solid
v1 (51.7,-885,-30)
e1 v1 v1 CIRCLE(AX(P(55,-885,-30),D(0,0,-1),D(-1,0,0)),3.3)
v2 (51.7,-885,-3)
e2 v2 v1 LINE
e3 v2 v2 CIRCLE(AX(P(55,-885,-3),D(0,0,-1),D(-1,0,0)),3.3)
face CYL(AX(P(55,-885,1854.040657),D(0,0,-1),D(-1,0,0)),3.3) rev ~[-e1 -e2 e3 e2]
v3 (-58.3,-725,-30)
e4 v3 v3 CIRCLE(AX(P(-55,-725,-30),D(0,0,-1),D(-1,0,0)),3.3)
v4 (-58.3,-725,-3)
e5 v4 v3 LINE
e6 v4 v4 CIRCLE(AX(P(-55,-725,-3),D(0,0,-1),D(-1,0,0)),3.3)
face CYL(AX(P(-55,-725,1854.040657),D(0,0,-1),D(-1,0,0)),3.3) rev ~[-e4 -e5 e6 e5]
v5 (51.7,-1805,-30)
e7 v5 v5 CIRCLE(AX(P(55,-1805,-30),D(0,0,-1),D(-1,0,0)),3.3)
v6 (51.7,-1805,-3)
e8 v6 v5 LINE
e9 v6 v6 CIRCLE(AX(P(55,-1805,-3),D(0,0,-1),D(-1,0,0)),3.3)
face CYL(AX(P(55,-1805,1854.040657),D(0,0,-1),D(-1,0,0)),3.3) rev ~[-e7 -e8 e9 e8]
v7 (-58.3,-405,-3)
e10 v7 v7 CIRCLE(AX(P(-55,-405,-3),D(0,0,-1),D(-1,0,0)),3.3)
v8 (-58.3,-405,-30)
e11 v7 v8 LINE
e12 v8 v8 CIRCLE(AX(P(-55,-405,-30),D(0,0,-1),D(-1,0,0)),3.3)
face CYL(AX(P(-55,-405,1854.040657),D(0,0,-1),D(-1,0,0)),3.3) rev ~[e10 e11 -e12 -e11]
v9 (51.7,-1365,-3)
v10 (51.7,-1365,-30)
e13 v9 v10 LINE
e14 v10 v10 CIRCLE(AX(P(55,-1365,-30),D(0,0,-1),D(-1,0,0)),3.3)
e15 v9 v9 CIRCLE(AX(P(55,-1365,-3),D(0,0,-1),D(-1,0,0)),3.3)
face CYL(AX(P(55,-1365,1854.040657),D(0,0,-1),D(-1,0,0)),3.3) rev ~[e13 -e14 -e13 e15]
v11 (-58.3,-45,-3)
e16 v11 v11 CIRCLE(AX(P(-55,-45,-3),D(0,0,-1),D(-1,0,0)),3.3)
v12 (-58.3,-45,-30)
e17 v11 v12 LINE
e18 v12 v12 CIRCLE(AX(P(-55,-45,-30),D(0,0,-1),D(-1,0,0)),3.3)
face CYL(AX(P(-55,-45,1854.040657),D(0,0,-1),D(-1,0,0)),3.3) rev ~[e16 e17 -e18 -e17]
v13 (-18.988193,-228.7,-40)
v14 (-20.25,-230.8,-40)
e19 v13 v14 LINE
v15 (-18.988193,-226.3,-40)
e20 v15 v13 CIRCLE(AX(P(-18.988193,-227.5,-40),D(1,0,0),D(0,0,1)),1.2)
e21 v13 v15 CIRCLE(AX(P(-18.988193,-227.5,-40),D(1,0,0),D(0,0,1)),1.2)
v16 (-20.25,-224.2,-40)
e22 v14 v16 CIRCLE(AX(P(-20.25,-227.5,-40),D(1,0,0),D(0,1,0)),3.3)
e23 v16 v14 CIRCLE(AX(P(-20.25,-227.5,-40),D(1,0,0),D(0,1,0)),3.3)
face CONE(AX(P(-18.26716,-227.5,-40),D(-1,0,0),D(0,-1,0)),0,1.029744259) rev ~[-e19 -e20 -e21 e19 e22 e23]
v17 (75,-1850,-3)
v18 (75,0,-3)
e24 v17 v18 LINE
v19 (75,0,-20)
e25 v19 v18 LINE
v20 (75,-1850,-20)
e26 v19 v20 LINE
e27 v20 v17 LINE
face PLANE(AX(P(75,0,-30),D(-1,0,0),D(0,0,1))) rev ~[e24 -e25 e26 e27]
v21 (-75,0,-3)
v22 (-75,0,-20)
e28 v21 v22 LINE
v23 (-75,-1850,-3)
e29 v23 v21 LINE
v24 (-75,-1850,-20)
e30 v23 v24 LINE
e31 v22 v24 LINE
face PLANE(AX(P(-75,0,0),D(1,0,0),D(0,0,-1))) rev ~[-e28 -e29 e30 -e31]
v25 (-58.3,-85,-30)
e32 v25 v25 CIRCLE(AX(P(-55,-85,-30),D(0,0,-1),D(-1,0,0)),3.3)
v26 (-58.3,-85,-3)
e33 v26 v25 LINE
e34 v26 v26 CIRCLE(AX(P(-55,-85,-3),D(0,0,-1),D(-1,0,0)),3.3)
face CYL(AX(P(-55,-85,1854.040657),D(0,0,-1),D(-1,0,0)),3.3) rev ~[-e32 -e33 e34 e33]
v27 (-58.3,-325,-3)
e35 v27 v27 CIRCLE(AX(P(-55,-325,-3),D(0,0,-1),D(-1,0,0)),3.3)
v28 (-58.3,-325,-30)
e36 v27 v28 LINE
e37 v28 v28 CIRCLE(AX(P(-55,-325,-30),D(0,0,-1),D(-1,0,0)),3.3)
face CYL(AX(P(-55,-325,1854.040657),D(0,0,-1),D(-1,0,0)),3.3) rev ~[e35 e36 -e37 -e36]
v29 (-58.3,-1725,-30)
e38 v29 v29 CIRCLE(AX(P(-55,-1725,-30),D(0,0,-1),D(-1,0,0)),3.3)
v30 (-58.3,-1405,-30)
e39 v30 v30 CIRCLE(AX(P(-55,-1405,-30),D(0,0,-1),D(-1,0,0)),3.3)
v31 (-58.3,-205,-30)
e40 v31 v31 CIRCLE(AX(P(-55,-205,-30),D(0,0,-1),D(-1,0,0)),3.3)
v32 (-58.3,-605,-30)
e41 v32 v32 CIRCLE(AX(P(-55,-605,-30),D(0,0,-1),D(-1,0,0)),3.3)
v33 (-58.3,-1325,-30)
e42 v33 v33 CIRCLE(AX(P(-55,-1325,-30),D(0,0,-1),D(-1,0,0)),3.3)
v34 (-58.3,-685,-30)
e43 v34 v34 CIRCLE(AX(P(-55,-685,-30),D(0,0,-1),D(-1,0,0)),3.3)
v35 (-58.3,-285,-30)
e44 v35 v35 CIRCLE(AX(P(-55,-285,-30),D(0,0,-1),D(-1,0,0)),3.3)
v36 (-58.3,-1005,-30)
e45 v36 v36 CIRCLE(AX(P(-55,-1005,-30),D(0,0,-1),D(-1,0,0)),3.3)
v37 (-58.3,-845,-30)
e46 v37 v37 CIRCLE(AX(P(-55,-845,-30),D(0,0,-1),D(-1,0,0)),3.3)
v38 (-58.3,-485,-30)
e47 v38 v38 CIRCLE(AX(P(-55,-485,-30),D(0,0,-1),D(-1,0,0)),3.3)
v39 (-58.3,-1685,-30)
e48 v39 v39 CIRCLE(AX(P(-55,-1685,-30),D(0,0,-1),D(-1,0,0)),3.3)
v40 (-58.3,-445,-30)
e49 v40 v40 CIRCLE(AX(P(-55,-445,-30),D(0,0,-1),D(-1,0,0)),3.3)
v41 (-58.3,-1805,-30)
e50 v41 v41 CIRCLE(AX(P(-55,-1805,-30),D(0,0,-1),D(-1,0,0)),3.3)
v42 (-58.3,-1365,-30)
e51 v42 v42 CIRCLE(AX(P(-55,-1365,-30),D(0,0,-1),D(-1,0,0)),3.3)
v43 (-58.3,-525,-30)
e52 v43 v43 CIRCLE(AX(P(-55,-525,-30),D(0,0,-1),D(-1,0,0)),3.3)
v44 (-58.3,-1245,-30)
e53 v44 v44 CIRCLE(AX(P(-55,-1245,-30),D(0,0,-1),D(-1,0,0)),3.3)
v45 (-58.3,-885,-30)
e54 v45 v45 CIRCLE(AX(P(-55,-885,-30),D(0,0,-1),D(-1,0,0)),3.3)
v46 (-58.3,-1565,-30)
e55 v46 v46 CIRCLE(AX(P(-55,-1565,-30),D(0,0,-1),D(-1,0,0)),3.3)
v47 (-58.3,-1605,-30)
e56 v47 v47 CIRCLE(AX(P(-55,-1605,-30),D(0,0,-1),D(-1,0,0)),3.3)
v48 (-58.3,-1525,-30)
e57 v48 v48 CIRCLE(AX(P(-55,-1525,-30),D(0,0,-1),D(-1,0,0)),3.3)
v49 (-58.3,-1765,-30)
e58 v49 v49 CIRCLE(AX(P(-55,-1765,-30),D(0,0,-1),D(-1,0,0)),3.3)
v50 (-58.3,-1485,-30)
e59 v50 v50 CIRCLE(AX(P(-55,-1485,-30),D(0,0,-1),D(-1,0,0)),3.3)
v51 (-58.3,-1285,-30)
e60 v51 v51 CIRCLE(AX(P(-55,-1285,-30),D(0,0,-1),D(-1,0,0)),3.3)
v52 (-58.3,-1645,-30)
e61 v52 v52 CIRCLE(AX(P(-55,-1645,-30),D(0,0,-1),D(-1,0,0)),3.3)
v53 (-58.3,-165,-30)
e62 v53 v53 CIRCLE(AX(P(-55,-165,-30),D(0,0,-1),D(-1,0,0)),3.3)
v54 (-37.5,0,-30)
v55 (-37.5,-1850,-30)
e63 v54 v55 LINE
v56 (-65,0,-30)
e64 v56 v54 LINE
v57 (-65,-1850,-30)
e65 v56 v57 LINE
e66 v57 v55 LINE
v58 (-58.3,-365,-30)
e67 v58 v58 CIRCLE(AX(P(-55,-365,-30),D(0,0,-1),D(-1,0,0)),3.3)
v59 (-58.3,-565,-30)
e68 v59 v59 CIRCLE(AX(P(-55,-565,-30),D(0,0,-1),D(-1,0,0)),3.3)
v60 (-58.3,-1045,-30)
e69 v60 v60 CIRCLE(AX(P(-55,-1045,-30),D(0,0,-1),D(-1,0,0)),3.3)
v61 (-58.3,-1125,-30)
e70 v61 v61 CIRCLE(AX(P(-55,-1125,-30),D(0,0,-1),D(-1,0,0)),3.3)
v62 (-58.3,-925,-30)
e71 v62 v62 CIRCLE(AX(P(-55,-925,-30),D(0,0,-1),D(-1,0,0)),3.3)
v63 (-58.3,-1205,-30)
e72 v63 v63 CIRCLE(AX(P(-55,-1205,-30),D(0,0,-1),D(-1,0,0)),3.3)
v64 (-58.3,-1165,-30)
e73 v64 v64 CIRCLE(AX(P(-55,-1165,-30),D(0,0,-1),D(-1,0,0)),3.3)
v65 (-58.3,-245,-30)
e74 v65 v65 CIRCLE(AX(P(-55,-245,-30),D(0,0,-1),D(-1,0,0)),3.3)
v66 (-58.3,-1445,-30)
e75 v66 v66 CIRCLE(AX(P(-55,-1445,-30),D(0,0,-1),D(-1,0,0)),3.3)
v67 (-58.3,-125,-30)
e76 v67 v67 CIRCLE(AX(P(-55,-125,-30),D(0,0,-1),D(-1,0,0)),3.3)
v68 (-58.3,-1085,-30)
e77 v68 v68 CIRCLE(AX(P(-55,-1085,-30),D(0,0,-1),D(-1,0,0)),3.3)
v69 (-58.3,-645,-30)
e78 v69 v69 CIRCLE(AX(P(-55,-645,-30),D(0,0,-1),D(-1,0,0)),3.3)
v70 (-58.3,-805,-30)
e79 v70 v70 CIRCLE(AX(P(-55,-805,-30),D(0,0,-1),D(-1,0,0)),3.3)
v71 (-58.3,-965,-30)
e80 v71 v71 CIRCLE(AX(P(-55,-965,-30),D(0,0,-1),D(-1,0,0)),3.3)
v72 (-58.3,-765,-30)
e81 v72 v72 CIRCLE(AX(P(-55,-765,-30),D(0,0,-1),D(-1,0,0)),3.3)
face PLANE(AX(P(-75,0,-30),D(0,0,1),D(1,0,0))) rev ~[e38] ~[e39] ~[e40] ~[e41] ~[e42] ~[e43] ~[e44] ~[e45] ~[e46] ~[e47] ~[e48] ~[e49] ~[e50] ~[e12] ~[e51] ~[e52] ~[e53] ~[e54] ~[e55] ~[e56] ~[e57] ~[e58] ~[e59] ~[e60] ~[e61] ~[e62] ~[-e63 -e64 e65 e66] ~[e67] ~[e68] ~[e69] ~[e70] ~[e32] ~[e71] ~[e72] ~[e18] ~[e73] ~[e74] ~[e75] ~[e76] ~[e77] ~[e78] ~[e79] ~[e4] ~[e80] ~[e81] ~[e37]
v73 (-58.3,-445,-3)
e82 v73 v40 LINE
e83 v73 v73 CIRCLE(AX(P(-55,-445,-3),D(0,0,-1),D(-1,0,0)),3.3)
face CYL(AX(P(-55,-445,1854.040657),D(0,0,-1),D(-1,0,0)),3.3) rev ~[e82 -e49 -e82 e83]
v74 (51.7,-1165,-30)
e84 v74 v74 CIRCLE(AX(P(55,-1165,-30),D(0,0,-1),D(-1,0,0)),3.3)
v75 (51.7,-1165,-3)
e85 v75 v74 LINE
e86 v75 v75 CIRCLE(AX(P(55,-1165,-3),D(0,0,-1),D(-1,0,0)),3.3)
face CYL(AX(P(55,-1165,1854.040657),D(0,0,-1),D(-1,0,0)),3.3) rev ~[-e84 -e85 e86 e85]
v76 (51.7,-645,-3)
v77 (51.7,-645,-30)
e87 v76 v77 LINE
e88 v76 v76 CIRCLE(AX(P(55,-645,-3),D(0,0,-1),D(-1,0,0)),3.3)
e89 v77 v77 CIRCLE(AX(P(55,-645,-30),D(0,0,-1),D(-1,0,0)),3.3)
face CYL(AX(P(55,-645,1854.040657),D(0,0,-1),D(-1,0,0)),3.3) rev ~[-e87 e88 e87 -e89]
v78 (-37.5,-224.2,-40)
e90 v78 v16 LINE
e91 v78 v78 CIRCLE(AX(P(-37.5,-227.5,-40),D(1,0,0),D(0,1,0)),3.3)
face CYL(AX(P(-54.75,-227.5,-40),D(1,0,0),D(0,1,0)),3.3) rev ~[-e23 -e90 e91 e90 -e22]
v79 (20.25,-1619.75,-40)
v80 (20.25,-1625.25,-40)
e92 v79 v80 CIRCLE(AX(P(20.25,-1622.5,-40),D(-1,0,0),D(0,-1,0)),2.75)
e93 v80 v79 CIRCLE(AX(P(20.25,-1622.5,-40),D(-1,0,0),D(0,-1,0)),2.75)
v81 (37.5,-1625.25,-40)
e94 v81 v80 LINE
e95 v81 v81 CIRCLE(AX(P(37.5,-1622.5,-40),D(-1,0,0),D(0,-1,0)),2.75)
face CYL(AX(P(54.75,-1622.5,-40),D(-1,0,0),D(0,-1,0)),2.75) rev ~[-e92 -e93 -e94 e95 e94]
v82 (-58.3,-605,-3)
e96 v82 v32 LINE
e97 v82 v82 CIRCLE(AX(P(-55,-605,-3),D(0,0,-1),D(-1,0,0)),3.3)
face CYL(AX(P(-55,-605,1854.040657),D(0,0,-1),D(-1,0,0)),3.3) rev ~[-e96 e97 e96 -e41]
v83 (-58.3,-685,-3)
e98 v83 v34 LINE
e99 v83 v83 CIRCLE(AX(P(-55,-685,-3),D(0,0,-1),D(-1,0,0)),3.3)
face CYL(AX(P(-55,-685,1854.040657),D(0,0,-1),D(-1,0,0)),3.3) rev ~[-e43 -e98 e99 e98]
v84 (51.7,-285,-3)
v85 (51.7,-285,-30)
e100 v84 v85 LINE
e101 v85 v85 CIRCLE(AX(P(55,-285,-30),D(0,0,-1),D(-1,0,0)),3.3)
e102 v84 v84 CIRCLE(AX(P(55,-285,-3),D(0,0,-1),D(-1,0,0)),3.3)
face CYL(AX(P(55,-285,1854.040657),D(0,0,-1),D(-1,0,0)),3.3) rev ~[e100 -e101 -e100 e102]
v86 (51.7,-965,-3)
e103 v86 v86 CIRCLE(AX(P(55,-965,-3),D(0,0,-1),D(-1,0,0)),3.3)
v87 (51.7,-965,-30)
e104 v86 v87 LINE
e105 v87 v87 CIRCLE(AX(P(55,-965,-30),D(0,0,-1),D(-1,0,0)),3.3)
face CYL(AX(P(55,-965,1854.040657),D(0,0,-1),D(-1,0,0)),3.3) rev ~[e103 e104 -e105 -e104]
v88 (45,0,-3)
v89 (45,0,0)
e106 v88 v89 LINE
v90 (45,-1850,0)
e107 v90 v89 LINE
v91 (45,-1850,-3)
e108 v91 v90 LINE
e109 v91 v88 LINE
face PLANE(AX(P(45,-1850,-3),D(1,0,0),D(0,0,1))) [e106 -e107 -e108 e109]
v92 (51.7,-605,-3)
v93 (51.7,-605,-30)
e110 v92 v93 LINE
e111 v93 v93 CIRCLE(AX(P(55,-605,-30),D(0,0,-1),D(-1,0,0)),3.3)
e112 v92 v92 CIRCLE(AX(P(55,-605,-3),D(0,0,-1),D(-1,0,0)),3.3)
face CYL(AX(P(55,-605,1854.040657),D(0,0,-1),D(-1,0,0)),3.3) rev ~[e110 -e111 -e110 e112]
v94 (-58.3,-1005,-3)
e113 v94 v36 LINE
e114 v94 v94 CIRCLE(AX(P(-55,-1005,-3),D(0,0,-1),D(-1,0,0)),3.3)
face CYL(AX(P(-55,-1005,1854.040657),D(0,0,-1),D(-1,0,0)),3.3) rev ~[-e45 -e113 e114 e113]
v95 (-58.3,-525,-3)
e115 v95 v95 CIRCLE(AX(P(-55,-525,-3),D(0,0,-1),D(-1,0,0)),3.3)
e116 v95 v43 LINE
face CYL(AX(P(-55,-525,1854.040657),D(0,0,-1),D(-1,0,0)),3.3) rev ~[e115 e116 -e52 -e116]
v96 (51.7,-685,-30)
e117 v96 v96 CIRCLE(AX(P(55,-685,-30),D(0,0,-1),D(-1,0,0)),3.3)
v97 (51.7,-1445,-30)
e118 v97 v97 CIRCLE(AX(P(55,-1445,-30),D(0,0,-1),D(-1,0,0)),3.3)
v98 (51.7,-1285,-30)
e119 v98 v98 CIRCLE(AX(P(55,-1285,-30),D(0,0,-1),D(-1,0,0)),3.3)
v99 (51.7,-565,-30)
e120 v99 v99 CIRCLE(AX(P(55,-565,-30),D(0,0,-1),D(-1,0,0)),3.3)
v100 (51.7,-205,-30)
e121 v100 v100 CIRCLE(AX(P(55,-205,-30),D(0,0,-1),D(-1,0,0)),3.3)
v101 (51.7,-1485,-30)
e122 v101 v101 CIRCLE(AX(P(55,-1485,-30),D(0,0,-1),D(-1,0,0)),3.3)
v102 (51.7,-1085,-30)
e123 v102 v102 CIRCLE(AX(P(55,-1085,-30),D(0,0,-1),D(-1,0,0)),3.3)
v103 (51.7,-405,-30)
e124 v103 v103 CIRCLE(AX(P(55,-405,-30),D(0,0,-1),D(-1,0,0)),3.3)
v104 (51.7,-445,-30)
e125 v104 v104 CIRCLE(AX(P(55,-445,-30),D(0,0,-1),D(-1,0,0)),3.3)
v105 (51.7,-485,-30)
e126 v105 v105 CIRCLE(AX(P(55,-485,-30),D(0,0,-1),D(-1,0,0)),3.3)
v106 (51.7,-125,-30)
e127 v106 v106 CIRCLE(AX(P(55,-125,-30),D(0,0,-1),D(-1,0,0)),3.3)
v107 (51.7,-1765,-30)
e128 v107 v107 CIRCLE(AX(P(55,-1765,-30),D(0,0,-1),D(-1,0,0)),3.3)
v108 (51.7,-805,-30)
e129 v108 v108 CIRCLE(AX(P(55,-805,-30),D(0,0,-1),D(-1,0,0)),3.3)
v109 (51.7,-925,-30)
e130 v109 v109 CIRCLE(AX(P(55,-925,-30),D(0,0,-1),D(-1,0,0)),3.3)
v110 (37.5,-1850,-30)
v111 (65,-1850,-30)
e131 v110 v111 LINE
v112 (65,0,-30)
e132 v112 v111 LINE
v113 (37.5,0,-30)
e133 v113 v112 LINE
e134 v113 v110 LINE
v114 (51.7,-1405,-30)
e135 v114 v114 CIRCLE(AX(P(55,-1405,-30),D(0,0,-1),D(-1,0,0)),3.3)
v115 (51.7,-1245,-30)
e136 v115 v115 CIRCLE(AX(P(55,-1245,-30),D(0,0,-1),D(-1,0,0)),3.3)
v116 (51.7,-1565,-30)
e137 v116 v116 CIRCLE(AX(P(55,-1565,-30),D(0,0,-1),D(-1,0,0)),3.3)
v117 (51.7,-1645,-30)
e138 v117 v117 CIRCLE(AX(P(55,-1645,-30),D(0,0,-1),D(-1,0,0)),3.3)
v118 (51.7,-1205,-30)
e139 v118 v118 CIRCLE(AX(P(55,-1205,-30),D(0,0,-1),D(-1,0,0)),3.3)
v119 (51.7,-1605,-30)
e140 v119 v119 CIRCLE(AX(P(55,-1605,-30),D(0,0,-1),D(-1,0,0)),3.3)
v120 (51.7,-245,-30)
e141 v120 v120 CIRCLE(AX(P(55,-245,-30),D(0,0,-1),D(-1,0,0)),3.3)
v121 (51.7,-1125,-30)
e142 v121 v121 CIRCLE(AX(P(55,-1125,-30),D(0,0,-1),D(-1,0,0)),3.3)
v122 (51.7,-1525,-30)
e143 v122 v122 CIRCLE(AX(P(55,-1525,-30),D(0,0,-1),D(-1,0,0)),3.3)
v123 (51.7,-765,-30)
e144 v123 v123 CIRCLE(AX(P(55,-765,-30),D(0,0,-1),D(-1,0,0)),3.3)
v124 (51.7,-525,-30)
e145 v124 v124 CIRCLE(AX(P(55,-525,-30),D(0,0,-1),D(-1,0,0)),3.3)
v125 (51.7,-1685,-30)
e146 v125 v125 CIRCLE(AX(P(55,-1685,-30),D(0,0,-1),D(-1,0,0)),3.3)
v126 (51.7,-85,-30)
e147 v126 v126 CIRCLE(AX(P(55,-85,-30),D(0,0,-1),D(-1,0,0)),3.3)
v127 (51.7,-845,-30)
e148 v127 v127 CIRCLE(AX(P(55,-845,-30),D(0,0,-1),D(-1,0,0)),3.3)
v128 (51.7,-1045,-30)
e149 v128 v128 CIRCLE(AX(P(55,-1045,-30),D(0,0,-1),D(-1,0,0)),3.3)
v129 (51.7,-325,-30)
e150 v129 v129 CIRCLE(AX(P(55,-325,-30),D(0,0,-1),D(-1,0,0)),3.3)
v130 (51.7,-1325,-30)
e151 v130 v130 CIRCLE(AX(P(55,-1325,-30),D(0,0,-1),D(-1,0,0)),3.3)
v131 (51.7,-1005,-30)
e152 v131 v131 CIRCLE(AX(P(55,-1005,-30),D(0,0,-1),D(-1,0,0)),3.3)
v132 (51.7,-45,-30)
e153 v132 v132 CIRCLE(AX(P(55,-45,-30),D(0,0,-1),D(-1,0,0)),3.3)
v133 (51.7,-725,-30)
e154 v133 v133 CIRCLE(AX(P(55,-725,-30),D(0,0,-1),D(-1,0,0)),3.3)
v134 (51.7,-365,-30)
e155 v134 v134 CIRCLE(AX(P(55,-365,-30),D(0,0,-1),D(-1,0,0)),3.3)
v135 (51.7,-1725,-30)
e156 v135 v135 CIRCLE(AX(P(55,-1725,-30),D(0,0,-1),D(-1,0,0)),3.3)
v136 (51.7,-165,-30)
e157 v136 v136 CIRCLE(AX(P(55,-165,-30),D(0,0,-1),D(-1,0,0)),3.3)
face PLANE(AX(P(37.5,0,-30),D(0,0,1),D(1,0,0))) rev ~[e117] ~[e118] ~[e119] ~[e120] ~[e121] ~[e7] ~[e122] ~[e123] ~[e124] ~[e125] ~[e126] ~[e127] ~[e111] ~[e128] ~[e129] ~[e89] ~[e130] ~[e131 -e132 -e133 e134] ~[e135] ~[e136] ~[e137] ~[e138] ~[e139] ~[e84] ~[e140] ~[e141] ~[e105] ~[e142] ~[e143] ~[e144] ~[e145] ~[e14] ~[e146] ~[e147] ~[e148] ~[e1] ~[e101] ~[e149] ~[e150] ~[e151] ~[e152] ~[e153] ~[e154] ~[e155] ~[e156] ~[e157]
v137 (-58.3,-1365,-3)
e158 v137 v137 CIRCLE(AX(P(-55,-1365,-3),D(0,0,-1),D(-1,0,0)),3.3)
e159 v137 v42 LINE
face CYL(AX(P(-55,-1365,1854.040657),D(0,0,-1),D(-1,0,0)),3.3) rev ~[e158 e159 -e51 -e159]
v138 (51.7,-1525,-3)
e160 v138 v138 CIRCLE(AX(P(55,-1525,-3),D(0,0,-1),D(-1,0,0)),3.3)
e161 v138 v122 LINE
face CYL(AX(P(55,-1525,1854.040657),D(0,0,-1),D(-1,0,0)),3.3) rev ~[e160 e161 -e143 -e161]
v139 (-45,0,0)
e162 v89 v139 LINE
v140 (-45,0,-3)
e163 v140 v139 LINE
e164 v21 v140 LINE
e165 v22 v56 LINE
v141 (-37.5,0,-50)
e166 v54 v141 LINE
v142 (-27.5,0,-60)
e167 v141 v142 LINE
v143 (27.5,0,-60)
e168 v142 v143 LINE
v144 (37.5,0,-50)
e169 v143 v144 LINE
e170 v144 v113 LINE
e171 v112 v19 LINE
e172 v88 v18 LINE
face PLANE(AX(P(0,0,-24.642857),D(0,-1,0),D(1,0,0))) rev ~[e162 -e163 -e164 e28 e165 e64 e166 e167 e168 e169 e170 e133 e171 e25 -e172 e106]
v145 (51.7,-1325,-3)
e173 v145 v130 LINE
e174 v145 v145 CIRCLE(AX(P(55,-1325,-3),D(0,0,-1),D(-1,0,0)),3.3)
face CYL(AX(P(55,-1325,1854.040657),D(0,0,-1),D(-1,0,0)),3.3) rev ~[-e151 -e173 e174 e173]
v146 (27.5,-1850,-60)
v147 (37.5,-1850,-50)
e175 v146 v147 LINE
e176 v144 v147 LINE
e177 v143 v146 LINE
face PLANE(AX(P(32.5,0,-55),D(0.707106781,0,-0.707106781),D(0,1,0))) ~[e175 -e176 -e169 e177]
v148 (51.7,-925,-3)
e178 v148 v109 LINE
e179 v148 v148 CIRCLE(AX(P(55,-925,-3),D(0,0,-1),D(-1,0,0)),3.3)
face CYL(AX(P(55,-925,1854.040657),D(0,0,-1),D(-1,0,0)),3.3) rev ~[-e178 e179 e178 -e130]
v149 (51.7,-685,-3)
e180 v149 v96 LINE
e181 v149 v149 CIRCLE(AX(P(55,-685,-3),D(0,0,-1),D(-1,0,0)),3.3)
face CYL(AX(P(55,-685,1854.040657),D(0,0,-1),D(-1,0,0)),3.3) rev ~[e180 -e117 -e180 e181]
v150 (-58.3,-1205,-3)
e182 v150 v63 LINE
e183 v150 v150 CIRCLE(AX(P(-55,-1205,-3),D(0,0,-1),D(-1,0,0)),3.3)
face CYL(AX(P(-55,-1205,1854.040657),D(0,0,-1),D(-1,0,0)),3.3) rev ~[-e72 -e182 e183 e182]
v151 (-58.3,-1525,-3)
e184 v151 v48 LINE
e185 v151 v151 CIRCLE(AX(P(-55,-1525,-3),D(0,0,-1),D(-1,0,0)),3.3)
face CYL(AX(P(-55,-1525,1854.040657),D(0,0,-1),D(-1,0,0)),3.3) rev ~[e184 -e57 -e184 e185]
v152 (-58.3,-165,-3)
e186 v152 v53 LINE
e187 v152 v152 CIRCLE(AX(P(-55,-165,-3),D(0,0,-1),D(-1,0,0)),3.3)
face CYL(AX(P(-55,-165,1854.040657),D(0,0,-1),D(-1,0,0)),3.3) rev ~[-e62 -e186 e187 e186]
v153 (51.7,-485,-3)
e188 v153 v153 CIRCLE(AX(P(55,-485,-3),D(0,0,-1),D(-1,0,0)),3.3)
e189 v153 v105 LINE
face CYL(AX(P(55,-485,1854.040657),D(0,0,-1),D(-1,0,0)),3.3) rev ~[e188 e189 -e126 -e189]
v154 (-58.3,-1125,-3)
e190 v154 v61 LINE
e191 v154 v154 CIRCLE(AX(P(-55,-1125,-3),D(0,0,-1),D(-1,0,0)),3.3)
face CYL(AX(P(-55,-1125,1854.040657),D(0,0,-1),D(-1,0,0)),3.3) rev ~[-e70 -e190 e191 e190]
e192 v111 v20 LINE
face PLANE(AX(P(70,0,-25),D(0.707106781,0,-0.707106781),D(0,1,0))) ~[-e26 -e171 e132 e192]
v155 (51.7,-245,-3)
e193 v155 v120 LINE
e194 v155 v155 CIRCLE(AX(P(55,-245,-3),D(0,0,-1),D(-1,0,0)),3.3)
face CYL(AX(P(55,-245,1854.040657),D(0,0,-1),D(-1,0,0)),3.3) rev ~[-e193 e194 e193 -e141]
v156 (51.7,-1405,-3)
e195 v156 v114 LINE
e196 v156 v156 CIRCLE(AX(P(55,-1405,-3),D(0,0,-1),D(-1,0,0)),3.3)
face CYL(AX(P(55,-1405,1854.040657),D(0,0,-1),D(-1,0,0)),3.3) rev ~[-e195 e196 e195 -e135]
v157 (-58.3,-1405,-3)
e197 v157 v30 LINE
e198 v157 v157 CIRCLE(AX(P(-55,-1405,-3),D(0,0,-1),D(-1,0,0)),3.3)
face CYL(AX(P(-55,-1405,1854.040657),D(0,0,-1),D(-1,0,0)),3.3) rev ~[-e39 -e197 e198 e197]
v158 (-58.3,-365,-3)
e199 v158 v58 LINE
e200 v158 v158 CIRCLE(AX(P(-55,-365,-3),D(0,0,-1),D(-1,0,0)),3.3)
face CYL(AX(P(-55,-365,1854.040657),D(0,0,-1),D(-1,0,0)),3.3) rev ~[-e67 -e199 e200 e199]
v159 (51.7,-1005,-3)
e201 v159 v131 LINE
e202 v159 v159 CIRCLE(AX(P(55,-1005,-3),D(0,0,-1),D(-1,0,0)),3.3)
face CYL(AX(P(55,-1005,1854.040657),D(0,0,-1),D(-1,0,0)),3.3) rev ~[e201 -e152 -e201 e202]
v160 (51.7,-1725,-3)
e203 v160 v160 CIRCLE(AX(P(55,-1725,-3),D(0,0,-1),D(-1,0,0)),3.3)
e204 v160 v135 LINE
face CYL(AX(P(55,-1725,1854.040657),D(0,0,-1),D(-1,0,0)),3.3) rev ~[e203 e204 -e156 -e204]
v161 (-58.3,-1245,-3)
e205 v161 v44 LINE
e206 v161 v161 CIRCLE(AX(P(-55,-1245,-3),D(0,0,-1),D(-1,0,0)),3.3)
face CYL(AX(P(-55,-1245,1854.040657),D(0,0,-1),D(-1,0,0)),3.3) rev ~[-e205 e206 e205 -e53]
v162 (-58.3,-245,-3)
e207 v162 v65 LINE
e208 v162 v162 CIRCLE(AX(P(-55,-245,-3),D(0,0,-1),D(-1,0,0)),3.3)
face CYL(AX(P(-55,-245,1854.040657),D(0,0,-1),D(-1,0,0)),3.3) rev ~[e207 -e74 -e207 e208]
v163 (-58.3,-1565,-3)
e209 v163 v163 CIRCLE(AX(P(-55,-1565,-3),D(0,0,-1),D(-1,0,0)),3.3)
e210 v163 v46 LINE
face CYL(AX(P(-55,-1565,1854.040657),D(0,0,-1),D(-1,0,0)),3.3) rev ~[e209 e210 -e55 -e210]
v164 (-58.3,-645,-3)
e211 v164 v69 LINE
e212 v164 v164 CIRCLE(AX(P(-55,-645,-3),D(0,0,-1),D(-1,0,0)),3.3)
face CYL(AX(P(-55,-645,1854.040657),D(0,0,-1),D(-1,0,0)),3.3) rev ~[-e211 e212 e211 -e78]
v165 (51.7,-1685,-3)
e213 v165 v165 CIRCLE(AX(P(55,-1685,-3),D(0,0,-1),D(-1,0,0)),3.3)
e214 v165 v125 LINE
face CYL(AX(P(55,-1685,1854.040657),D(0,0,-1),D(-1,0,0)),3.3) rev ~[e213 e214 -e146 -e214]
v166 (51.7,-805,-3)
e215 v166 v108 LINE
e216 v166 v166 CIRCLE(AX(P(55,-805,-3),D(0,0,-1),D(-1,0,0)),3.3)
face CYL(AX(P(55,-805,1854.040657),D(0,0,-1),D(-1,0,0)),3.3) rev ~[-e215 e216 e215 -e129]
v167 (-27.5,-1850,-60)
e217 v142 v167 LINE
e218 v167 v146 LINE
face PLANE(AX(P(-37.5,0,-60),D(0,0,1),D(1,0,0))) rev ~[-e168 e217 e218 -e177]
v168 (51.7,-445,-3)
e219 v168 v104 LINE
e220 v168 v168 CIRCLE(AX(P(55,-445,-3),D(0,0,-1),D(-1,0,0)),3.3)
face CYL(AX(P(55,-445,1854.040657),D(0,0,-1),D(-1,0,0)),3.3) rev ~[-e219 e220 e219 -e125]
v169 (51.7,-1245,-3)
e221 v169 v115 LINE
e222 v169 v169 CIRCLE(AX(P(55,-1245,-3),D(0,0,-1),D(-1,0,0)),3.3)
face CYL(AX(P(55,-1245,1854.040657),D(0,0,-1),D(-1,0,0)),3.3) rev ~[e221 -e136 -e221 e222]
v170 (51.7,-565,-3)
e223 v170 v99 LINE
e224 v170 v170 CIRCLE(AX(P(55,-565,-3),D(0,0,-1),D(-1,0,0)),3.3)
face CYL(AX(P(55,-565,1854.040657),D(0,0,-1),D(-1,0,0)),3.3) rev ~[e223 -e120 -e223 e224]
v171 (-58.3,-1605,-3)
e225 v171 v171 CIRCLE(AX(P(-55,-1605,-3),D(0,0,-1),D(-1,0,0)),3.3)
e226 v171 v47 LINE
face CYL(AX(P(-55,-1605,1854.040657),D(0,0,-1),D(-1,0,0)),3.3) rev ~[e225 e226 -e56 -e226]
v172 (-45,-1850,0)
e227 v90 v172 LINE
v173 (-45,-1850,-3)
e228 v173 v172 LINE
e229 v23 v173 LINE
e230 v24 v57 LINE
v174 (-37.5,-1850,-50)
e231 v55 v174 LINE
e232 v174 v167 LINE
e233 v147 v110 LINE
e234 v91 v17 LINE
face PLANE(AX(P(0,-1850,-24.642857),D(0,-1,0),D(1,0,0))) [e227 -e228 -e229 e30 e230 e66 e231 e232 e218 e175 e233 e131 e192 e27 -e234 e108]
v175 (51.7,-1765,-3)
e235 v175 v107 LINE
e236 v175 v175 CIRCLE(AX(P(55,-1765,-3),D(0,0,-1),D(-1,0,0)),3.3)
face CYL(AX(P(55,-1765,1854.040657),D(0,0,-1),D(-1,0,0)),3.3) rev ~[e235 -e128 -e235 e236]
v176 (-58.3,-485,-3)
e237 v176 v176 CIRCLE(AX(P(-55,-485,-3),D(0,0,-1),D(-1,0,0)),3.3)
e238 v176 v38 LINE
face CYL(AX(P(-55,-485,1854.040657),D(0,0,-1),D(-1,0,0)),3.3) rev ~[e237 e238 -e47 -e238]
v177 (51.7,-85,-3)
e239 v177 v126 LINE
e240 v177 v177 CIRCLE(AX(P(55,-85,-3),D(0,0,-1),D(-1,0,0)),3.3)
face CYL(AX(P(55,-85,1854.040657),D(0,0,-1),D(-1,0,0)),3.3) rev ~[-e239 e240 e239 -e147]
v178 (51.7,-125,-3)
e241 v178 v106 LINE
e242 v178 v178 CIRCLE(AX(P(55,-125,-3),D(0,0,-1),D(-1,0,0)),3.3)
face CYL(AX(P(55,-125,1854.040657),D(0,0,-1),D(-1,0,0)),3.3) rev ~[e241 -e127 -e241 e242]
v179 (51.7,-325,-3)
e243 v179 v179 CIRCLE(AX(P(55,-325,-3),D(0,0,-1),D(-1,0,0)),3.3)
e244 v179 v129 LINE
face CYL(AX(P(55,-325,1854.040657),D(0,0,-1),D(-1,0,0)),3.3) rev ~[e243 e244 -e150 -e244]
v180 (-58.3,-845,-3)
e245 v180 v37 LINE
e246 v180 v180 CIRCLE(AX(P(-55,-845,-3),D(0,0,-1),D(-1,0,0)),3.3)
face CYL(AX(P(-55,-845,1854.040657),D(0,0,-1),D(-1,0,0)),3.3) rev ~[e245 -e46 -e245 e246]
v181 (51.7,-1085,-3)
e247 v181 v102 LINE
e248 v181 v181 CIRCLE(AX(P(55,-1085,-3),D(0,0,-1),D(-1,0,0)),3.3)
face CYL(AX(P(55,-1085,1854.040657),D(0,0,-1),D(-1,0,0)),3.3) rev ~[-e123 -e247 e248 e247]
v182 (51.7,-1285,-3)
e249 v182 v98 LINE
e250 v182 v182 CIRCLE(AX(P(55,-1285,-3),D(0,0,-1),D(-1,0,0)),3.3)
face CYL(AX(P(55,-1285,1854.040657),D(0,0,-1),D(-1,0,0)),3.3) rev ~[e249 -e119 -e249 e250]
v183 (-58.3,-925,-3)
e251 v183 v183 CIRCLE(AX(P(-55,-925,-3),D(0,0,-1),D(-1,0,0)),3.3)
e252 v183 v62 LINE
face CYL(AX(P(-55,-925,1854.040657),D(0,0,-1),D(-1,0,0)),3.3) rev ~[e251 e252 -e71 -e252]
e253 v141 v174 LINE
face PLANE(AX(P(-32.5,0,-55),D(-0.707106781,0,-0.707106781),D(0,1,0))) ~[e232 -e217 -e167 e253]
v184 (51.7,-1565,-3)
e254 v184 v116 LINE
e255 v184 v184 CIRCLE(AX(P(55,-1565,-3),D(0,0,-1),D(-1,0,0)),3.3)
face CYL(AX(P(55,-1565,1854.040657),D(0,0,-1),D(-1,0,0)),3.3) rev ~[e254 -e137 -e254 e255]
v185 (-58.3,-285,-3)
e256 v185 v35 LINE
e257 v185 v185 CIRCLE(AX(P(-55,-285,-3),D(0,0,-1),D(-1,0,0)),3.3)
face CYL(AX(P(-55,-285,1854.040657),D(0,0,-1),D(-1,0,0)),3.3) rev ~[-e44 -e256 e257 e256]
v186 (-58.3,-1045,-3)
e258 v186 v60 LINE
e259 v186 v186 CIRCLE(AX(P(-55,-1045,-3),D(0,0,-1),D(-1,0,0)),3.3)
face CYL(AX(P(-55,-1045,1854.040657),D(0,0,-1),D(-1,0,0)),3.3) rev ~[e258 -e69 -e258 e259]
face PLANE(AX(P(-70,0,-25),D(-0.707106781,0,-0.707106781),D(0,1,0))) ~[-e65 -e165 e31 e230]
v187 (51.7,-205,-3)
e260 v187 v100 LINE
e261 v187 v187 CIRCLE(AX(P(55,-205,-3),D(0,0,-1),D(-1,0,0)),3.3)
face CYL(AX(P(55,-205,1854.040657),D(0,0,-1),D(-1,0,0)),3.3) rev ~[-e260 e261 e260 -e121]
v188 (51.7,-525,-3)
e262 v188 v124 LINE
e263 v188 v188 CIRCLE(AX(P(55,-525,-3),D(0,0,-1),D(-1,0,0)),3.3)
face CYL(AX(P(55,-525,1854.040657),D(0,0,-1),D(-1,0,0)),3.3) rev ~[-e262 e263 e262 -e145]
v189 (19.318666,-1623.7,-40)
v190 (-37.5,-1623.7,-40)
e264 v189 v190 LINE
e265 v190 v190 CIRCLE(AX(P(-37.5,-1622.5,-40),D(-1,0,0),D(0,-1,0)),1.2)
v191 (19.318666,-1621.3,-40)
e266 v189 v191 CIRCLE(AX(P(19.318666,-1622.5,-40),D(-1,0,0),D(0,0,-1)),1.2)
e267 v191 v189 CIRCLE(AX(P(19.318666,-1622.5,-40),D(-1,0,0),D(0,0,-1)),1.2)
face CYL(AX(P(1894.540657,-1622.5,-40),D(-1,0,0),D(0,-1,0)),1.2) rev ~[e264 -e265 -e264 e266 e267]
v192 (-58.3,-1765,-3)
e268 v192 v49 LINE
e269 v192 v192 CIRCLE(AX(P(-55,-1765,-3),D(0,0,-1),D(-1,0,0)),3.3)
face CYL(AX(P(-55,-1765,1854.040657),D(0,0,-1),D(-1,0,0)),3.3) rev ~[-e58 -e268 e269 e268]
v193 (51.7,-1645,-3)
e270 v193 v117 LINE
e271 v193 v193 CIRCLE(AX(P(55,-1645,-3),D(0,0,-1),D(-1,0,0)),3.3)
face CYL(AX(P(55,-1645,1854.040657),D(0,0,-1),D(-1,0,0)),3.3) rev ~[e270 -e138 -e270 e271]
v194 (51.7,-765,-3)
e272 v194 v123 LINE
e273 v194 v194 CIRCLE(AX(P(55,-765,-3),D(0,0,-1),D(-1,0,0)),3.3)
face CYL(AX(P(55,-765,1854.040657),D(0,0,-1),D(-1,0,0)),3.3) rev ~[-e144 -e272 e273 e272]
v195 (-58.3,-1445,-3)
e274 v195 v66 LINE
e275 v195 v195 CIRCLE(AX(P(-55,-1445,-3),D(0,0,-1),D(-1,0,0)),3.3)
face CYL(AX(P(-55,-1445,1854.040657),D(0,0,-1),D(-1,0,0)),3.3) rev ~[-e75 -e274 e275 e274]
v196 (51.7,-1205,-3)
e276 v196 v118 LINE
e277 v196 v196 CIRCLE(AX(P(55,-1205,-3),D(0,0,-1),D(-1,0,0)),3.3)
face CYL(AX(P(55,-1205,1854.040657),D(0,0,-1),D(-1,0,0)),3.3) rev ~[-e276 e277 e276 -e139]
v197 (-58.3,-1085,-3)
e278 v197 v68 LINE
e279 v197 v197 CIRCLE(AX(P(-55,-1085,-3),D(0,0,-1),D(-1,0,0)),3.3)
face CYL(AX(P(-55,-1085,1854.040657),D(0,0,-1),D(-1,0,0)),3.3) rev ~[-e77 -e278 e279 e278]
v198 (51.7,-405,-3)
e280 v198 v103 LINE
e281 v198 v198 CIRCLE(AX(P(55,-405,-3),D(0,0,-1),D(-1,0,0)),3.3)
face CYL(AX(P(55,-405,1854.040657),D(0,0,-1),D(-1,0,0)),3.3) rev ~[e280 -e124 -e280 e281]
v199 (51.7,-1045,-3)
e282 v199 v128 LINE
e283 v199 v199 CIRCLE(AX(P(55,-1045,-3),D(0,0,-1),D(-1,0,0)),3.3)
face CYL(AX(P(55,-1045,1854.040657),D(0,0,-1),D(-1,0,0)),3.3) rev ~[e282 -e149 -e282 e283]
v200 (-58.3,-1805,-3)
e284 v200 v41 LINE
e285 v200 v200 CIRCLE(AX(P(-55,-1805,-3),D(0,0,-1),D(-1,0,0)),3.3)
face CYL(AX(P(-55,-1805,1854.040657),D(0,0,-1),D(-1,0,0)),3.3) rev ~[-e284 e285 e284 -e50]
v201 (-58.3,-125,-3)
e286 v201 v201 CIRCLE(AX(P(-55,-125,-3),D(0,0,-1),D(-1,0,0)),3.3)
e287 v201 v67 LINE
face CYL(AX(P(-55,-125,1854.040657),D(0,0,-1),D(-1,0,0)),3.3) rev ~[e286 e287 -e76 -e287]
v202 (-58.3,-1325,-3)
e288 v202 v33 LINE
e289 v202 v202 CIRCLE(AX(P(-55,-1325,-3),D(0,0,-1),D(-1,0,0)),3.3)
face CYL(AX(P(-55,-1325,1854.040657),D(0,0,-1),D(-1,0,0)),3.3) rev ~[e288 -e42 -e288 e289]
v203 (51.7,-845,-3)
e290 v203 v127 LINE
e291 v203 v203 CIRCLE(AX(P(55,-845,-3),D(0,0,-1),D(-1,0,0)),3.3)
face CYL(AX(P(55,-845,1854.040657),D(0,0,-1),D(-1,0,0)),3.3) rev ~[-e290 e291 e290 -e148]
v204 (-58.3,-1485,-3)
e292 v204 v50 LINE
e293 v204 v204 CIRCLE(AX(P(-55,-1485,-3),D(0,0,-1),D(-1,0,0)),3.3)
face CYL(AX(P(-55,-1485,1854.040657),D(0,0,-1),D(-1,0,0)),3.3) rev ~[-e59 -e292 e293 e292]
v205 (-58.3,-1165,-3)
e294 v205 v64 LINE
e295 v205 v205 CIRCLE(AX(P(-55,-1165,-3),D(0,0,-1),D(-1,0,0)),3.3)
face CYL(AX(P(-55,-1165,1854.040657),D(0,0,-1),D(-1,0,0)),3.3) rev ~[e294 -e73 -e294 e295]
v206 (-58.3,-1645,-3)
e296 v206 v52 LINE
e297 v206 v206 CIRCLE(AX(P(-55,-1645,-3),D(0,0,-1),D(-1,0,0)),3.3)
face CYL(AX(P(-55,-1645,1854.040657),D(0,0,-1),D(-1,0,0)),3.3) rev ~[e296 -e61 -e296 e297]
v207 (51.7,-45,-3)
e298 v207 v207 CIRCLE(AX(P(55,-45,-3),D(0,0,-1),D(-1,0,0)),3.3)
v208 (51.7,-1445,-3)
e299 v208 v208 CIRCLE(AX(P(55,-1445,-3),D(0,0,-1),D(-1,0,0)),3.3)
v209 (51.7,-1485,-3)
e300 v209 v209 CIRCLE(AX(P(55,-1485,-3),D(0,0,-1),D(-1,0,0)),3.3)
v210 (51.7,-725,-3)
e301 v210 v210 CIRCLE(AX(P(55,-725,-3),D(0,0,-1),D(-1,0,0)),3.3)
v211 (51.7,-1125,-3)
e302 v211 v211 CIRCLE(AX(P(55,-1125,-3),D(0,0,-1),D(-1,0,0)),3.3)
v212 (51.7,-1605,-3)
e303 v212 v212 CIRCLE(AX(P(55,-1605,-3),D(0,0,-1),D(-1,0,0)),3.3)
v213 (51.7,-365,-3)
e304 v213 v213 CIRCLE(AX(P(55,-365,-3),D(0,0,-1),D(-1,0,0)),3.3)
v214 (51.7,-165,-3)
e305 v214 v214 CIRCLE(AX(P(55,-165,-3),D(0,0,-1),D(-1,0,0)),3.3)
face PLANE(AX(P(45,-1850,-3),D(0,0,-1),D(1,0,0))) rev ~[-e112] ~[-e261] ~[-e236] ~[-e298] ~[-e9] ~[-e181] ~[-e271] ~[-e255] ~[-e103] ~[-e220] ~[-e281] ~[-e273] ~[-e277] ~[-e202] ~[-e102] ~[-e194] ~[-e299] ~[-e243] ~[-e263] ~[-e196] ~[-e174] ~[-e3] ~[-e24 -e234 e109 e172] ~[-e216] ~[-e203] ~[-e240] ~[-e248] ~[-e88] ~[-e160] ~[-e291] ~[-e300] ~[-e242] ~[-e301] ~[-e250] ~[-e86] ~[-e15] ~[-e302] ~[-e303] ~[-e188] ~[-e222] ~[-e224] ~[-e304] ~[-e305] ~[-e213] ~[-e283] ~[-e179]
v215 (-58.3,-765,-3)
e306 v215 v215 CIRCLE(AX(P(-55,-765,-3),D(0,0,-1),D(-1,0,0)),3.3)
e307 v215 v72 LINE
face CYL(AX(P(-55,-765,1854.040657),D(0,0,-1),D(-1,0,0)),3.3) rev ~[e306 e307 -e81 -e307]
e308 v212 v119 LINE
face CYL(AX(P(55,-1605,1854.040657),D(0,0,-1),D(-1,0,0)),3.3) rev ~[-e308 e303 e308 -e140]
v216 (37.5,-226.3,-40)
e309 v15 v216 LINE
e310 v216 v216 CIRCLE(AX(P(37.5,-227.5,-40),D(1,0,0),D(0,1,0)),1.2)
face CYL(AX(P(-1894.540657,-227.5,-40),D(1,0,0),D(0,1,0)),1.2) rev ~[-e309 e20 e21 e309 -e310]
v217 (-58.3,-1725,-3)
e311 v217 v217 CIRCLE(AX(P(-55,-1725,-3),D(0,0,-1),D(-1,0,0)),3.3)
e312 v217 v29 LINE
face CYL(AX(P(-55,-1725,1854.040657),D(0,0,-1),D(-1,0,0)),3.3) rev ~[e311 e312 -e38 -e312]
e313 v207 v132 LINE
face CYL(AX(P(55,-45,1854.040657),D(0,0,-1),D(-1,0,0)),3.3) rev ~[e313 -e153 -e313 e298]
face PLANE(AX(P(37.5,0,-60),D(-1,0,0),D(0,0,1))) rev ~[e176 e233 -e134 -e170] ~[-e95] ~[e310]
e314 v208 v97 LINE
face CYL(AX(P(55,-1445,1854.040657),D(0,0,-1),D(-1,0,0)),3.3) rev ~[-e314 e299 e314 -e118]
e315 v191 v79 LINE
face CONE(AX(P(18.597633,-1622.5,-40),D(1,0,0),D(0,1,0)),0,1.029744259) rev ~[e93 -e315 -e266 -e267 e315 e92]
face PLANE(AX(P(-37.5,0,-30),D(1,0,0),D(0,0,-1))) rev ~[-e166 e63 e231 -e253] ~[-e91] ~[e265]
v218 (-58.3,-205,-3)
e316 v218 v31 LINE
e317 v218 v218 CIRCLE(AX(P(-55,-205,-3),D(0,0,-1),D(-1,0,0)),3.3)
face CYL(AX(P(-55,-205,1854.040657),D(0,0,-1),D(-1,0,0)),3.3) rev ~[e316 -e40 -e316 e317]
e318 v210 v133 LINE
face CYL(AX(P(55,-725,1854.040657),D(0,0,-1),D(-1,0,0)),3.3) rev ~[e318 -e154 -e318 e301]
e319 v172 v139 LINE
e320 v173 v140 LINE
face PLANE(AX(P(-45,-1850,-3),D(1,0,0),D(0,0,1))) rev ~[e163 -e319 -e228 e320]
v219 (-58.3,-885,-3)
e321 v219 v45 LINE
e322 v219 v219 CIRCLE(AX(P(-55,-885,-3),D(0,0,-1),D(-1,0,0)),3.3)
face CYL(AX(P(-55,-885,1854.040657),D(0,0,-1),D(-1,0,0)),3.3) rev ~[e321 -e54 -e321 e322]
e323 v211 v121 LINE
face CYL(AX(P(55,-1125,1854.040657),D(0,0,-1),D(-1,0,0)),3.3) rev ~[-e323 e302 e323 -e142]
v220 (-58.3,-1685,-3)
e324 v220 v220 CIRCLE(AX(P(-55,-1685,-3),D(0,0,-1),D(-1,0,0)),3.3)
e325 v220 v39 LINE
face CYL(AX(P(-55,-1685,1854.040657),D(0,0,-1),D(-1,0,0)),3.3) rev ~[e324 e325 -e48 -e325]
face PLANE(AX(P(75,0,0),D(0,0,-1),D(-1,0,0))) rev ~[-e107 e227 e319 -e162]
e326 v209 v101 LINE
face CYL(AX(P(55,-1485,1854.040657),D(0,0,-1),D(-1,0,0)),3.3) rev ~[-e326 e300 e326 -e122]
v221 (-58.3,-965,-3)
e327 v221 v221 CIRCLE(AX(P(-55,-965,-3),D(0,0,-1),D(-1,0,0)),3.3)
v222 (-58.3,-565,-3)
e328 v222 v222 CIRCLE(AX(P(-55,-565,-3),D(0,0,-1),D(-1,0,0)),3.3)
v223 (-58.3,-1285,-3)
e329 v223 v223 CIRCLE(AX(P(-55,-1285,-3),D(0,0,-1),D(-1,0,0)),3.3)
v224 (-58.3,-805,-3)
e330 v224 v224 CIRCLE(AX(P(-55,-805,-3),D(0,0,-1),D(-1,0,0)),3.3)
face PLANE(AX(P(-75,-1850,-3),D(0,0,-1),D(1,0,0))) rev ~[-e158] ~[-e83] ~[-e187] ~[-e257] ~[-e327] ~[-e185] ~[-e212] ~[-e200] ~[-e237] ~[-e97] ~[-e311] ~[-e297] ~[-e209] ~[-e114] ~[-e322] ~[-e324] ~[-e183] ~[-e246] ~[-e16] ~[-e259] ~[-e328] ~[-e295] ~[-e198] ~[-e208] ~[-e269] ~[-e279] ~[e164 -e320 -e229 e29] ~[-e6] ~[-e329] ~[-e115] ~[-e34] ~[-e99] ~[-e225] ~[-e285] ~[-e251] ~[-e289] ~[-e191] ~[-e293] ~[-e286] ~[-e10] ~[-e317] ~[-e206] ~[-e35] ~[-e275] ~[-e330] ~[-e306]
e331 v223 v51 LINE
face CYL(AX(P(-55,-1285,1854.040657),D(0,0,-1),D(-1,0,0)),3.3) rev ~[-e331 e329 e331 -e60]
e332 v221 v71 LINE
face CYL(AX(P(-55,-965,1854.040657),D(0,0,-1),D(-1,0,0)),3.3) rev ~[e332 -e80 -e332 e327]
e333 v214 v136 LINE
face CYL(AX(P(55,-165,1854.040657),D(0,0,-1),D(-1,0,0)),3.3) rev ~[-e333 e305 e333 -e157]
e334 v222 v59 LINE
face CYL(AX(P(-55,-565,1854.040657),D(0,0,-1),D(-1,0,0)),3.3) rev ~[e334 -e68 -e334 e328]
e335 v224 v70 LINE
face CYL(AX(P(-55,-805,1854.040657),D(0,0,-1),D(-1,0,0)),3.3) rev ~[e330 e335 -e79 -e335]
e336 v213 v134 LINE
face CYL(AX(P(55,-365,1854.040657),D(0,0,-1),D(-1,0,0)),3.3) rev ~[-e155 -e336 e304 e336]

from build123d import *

# Parameters (mm, degrees)
F1_DEPTH  = 1850
F2_SIZE   = 10
F4_D      = 6.6
F4_DEPTH  = 17.25
F4_TIP    = 1.9828400428
F5_D      = 2.4
F7_D      = 5.5
F7_DEPTH  = 17.25
F7_TIP    = 1.6523667023
F8_D      = 2.4
F9_W      = 30
F9_H      = 3
F10_DEPTH = 1850.001
F12_D     = 6.6
F14_D     = 6.6


with BuildPart() as f1:
    # F0 (on Front) → F1 (new body)
    with BuildSketch(Plane.XZ):
        Polygon((75, 0), (0, 0), (-75, 0), (-75, -30), (-37.5, -30), (-37.5, -60), (0, -60), (37.5, -60), (37.5, -30), (75, -30), align=None)
    extrude(amount=F1_DEPTH)

    # F2
    f2_edges = [f1.edges().sort_by_distance(p)[0] for p in [
        (75, -925, -30),
        (-75, -925, -30),
        (-37.5, -925, -60),
        (37.5, -925, -60),
    ]]
    chamfer(f2_edges, length=F2_SIZE)

    # F4
    with Locations(Plane(origin=(-37.5, 0, 0), x_dir=(0, -1, 0), z_dir=(-1, 0, 0))):
        with Locations((227.5, -40)):
            Hole(F4_D / 2, depth=F4_DEPTH)
            with Locations((0, 0, -(F4_DEPTH + F4_TIP / 2))):  # 118° drill point
                Cone(0, F4_D / 2, F4_TIP, mode=Mode.SUBTRACT)

    # F5 (through all)
    with Locations(Plane(origin=(-37.5, 0, 0), x_dir=(0, -1, 0), z_dir=(-1, 0, 0))):
        with Locations((227.5, -40)):
            Hole(F5_D / 2)

    # F7
    with Locations(Plane.YZ.offset(37.5)):
        with Locations((-1622.5, -40)):
            Hole(F7_D / 2, depth=F7_DEPTH)
            with Locations((0, 0, -(F7_DEPTH + F7_TIP / 2))):  # 118° drill point
                Cone(0, F7_D / 2, F7_TIP, mode=Mode.SUBTRACT)

    # F8 (through all)
    with Locations(Plane.YZ.offset(37.5)):
        with Locations((-1622.5, -40)):
            Hole(F8_D / 2)

    # F9 (on face) → F10 (cut, through all)
    with BuildSketch(Plane.XZ.offset(1850)):
        with Locations((-60, -1.5)):
            Rectangle(F9_W, F9_H)
        with Locations((60, -1.5)):
            Rectangle(F9_W, F9_H)
    extrude(amount=-F10_DEPTH, mode=Mode.SUBTRACT)

    # F12 (through all)
    with Locations(Plane.XY.offset(-3)):
        with Locations((-55, -45), (-55, -85), (-55, -125), (-55, -165), (-55, -205), (-55, -245), (-55, -285), (-55, -325), (-55, -365), (-55, -405), (-55, -445), (-55, -485), (-55, -525), (-55, -565), (-55, -605), (-55, -645), (-55, -685), (-55, -725), (-55, -765), (-55, -805), (-55, -845), (-55, -885), (-55, -925), (-55, -965), (-55, -1005), (-55, -1045), (-55, -1085), (-55, -1125), (-55, -1165), (-55, -1205), (-55, -1245), (-55, -1285), (-55, -1325), (-55, -1365), (-55, -1405), (-55, -1445), (-55, -1485), (-55, -1525), (-55, -1565), (-55, -1605), (-55, -1645), (-55, -1685), (-55, -1725), (-55, -1765), (-55, -1805)):
            Hole(F12_D / 2)

    # F14 (through all)
    with Locations(Plane.XY.offset(-3)):
        with Locations((55, -45), (55, -85), (55, -125), (55, -165), (55, -205), (55, -245), (55, -285), (55, -325), (55, -365), (55, -405), (55, -445), (55, -485), (55, -525), (55, -565), (55, -605), (55, -645), (55, -685), (55, -725), (55, -765), (55, -805), (55, -845), (55, -885), (55, -925), (55, -965), (55, -1005), (55, -1045), (55, -1085), (55, -1125), (55, -1165), (55, -1205), (55, -1245), (55, -1285), (55, -1325), (55, -1365), (55, -1405), (55, -1445), (55, -1485), (55, -1525), (55, -1565), (55, -1605), (55, -1645), (55, -1685), (55, -1725), (55, -1765), (55, -1805)):
            Hole(F14_D / 2)


solid = f1.part
